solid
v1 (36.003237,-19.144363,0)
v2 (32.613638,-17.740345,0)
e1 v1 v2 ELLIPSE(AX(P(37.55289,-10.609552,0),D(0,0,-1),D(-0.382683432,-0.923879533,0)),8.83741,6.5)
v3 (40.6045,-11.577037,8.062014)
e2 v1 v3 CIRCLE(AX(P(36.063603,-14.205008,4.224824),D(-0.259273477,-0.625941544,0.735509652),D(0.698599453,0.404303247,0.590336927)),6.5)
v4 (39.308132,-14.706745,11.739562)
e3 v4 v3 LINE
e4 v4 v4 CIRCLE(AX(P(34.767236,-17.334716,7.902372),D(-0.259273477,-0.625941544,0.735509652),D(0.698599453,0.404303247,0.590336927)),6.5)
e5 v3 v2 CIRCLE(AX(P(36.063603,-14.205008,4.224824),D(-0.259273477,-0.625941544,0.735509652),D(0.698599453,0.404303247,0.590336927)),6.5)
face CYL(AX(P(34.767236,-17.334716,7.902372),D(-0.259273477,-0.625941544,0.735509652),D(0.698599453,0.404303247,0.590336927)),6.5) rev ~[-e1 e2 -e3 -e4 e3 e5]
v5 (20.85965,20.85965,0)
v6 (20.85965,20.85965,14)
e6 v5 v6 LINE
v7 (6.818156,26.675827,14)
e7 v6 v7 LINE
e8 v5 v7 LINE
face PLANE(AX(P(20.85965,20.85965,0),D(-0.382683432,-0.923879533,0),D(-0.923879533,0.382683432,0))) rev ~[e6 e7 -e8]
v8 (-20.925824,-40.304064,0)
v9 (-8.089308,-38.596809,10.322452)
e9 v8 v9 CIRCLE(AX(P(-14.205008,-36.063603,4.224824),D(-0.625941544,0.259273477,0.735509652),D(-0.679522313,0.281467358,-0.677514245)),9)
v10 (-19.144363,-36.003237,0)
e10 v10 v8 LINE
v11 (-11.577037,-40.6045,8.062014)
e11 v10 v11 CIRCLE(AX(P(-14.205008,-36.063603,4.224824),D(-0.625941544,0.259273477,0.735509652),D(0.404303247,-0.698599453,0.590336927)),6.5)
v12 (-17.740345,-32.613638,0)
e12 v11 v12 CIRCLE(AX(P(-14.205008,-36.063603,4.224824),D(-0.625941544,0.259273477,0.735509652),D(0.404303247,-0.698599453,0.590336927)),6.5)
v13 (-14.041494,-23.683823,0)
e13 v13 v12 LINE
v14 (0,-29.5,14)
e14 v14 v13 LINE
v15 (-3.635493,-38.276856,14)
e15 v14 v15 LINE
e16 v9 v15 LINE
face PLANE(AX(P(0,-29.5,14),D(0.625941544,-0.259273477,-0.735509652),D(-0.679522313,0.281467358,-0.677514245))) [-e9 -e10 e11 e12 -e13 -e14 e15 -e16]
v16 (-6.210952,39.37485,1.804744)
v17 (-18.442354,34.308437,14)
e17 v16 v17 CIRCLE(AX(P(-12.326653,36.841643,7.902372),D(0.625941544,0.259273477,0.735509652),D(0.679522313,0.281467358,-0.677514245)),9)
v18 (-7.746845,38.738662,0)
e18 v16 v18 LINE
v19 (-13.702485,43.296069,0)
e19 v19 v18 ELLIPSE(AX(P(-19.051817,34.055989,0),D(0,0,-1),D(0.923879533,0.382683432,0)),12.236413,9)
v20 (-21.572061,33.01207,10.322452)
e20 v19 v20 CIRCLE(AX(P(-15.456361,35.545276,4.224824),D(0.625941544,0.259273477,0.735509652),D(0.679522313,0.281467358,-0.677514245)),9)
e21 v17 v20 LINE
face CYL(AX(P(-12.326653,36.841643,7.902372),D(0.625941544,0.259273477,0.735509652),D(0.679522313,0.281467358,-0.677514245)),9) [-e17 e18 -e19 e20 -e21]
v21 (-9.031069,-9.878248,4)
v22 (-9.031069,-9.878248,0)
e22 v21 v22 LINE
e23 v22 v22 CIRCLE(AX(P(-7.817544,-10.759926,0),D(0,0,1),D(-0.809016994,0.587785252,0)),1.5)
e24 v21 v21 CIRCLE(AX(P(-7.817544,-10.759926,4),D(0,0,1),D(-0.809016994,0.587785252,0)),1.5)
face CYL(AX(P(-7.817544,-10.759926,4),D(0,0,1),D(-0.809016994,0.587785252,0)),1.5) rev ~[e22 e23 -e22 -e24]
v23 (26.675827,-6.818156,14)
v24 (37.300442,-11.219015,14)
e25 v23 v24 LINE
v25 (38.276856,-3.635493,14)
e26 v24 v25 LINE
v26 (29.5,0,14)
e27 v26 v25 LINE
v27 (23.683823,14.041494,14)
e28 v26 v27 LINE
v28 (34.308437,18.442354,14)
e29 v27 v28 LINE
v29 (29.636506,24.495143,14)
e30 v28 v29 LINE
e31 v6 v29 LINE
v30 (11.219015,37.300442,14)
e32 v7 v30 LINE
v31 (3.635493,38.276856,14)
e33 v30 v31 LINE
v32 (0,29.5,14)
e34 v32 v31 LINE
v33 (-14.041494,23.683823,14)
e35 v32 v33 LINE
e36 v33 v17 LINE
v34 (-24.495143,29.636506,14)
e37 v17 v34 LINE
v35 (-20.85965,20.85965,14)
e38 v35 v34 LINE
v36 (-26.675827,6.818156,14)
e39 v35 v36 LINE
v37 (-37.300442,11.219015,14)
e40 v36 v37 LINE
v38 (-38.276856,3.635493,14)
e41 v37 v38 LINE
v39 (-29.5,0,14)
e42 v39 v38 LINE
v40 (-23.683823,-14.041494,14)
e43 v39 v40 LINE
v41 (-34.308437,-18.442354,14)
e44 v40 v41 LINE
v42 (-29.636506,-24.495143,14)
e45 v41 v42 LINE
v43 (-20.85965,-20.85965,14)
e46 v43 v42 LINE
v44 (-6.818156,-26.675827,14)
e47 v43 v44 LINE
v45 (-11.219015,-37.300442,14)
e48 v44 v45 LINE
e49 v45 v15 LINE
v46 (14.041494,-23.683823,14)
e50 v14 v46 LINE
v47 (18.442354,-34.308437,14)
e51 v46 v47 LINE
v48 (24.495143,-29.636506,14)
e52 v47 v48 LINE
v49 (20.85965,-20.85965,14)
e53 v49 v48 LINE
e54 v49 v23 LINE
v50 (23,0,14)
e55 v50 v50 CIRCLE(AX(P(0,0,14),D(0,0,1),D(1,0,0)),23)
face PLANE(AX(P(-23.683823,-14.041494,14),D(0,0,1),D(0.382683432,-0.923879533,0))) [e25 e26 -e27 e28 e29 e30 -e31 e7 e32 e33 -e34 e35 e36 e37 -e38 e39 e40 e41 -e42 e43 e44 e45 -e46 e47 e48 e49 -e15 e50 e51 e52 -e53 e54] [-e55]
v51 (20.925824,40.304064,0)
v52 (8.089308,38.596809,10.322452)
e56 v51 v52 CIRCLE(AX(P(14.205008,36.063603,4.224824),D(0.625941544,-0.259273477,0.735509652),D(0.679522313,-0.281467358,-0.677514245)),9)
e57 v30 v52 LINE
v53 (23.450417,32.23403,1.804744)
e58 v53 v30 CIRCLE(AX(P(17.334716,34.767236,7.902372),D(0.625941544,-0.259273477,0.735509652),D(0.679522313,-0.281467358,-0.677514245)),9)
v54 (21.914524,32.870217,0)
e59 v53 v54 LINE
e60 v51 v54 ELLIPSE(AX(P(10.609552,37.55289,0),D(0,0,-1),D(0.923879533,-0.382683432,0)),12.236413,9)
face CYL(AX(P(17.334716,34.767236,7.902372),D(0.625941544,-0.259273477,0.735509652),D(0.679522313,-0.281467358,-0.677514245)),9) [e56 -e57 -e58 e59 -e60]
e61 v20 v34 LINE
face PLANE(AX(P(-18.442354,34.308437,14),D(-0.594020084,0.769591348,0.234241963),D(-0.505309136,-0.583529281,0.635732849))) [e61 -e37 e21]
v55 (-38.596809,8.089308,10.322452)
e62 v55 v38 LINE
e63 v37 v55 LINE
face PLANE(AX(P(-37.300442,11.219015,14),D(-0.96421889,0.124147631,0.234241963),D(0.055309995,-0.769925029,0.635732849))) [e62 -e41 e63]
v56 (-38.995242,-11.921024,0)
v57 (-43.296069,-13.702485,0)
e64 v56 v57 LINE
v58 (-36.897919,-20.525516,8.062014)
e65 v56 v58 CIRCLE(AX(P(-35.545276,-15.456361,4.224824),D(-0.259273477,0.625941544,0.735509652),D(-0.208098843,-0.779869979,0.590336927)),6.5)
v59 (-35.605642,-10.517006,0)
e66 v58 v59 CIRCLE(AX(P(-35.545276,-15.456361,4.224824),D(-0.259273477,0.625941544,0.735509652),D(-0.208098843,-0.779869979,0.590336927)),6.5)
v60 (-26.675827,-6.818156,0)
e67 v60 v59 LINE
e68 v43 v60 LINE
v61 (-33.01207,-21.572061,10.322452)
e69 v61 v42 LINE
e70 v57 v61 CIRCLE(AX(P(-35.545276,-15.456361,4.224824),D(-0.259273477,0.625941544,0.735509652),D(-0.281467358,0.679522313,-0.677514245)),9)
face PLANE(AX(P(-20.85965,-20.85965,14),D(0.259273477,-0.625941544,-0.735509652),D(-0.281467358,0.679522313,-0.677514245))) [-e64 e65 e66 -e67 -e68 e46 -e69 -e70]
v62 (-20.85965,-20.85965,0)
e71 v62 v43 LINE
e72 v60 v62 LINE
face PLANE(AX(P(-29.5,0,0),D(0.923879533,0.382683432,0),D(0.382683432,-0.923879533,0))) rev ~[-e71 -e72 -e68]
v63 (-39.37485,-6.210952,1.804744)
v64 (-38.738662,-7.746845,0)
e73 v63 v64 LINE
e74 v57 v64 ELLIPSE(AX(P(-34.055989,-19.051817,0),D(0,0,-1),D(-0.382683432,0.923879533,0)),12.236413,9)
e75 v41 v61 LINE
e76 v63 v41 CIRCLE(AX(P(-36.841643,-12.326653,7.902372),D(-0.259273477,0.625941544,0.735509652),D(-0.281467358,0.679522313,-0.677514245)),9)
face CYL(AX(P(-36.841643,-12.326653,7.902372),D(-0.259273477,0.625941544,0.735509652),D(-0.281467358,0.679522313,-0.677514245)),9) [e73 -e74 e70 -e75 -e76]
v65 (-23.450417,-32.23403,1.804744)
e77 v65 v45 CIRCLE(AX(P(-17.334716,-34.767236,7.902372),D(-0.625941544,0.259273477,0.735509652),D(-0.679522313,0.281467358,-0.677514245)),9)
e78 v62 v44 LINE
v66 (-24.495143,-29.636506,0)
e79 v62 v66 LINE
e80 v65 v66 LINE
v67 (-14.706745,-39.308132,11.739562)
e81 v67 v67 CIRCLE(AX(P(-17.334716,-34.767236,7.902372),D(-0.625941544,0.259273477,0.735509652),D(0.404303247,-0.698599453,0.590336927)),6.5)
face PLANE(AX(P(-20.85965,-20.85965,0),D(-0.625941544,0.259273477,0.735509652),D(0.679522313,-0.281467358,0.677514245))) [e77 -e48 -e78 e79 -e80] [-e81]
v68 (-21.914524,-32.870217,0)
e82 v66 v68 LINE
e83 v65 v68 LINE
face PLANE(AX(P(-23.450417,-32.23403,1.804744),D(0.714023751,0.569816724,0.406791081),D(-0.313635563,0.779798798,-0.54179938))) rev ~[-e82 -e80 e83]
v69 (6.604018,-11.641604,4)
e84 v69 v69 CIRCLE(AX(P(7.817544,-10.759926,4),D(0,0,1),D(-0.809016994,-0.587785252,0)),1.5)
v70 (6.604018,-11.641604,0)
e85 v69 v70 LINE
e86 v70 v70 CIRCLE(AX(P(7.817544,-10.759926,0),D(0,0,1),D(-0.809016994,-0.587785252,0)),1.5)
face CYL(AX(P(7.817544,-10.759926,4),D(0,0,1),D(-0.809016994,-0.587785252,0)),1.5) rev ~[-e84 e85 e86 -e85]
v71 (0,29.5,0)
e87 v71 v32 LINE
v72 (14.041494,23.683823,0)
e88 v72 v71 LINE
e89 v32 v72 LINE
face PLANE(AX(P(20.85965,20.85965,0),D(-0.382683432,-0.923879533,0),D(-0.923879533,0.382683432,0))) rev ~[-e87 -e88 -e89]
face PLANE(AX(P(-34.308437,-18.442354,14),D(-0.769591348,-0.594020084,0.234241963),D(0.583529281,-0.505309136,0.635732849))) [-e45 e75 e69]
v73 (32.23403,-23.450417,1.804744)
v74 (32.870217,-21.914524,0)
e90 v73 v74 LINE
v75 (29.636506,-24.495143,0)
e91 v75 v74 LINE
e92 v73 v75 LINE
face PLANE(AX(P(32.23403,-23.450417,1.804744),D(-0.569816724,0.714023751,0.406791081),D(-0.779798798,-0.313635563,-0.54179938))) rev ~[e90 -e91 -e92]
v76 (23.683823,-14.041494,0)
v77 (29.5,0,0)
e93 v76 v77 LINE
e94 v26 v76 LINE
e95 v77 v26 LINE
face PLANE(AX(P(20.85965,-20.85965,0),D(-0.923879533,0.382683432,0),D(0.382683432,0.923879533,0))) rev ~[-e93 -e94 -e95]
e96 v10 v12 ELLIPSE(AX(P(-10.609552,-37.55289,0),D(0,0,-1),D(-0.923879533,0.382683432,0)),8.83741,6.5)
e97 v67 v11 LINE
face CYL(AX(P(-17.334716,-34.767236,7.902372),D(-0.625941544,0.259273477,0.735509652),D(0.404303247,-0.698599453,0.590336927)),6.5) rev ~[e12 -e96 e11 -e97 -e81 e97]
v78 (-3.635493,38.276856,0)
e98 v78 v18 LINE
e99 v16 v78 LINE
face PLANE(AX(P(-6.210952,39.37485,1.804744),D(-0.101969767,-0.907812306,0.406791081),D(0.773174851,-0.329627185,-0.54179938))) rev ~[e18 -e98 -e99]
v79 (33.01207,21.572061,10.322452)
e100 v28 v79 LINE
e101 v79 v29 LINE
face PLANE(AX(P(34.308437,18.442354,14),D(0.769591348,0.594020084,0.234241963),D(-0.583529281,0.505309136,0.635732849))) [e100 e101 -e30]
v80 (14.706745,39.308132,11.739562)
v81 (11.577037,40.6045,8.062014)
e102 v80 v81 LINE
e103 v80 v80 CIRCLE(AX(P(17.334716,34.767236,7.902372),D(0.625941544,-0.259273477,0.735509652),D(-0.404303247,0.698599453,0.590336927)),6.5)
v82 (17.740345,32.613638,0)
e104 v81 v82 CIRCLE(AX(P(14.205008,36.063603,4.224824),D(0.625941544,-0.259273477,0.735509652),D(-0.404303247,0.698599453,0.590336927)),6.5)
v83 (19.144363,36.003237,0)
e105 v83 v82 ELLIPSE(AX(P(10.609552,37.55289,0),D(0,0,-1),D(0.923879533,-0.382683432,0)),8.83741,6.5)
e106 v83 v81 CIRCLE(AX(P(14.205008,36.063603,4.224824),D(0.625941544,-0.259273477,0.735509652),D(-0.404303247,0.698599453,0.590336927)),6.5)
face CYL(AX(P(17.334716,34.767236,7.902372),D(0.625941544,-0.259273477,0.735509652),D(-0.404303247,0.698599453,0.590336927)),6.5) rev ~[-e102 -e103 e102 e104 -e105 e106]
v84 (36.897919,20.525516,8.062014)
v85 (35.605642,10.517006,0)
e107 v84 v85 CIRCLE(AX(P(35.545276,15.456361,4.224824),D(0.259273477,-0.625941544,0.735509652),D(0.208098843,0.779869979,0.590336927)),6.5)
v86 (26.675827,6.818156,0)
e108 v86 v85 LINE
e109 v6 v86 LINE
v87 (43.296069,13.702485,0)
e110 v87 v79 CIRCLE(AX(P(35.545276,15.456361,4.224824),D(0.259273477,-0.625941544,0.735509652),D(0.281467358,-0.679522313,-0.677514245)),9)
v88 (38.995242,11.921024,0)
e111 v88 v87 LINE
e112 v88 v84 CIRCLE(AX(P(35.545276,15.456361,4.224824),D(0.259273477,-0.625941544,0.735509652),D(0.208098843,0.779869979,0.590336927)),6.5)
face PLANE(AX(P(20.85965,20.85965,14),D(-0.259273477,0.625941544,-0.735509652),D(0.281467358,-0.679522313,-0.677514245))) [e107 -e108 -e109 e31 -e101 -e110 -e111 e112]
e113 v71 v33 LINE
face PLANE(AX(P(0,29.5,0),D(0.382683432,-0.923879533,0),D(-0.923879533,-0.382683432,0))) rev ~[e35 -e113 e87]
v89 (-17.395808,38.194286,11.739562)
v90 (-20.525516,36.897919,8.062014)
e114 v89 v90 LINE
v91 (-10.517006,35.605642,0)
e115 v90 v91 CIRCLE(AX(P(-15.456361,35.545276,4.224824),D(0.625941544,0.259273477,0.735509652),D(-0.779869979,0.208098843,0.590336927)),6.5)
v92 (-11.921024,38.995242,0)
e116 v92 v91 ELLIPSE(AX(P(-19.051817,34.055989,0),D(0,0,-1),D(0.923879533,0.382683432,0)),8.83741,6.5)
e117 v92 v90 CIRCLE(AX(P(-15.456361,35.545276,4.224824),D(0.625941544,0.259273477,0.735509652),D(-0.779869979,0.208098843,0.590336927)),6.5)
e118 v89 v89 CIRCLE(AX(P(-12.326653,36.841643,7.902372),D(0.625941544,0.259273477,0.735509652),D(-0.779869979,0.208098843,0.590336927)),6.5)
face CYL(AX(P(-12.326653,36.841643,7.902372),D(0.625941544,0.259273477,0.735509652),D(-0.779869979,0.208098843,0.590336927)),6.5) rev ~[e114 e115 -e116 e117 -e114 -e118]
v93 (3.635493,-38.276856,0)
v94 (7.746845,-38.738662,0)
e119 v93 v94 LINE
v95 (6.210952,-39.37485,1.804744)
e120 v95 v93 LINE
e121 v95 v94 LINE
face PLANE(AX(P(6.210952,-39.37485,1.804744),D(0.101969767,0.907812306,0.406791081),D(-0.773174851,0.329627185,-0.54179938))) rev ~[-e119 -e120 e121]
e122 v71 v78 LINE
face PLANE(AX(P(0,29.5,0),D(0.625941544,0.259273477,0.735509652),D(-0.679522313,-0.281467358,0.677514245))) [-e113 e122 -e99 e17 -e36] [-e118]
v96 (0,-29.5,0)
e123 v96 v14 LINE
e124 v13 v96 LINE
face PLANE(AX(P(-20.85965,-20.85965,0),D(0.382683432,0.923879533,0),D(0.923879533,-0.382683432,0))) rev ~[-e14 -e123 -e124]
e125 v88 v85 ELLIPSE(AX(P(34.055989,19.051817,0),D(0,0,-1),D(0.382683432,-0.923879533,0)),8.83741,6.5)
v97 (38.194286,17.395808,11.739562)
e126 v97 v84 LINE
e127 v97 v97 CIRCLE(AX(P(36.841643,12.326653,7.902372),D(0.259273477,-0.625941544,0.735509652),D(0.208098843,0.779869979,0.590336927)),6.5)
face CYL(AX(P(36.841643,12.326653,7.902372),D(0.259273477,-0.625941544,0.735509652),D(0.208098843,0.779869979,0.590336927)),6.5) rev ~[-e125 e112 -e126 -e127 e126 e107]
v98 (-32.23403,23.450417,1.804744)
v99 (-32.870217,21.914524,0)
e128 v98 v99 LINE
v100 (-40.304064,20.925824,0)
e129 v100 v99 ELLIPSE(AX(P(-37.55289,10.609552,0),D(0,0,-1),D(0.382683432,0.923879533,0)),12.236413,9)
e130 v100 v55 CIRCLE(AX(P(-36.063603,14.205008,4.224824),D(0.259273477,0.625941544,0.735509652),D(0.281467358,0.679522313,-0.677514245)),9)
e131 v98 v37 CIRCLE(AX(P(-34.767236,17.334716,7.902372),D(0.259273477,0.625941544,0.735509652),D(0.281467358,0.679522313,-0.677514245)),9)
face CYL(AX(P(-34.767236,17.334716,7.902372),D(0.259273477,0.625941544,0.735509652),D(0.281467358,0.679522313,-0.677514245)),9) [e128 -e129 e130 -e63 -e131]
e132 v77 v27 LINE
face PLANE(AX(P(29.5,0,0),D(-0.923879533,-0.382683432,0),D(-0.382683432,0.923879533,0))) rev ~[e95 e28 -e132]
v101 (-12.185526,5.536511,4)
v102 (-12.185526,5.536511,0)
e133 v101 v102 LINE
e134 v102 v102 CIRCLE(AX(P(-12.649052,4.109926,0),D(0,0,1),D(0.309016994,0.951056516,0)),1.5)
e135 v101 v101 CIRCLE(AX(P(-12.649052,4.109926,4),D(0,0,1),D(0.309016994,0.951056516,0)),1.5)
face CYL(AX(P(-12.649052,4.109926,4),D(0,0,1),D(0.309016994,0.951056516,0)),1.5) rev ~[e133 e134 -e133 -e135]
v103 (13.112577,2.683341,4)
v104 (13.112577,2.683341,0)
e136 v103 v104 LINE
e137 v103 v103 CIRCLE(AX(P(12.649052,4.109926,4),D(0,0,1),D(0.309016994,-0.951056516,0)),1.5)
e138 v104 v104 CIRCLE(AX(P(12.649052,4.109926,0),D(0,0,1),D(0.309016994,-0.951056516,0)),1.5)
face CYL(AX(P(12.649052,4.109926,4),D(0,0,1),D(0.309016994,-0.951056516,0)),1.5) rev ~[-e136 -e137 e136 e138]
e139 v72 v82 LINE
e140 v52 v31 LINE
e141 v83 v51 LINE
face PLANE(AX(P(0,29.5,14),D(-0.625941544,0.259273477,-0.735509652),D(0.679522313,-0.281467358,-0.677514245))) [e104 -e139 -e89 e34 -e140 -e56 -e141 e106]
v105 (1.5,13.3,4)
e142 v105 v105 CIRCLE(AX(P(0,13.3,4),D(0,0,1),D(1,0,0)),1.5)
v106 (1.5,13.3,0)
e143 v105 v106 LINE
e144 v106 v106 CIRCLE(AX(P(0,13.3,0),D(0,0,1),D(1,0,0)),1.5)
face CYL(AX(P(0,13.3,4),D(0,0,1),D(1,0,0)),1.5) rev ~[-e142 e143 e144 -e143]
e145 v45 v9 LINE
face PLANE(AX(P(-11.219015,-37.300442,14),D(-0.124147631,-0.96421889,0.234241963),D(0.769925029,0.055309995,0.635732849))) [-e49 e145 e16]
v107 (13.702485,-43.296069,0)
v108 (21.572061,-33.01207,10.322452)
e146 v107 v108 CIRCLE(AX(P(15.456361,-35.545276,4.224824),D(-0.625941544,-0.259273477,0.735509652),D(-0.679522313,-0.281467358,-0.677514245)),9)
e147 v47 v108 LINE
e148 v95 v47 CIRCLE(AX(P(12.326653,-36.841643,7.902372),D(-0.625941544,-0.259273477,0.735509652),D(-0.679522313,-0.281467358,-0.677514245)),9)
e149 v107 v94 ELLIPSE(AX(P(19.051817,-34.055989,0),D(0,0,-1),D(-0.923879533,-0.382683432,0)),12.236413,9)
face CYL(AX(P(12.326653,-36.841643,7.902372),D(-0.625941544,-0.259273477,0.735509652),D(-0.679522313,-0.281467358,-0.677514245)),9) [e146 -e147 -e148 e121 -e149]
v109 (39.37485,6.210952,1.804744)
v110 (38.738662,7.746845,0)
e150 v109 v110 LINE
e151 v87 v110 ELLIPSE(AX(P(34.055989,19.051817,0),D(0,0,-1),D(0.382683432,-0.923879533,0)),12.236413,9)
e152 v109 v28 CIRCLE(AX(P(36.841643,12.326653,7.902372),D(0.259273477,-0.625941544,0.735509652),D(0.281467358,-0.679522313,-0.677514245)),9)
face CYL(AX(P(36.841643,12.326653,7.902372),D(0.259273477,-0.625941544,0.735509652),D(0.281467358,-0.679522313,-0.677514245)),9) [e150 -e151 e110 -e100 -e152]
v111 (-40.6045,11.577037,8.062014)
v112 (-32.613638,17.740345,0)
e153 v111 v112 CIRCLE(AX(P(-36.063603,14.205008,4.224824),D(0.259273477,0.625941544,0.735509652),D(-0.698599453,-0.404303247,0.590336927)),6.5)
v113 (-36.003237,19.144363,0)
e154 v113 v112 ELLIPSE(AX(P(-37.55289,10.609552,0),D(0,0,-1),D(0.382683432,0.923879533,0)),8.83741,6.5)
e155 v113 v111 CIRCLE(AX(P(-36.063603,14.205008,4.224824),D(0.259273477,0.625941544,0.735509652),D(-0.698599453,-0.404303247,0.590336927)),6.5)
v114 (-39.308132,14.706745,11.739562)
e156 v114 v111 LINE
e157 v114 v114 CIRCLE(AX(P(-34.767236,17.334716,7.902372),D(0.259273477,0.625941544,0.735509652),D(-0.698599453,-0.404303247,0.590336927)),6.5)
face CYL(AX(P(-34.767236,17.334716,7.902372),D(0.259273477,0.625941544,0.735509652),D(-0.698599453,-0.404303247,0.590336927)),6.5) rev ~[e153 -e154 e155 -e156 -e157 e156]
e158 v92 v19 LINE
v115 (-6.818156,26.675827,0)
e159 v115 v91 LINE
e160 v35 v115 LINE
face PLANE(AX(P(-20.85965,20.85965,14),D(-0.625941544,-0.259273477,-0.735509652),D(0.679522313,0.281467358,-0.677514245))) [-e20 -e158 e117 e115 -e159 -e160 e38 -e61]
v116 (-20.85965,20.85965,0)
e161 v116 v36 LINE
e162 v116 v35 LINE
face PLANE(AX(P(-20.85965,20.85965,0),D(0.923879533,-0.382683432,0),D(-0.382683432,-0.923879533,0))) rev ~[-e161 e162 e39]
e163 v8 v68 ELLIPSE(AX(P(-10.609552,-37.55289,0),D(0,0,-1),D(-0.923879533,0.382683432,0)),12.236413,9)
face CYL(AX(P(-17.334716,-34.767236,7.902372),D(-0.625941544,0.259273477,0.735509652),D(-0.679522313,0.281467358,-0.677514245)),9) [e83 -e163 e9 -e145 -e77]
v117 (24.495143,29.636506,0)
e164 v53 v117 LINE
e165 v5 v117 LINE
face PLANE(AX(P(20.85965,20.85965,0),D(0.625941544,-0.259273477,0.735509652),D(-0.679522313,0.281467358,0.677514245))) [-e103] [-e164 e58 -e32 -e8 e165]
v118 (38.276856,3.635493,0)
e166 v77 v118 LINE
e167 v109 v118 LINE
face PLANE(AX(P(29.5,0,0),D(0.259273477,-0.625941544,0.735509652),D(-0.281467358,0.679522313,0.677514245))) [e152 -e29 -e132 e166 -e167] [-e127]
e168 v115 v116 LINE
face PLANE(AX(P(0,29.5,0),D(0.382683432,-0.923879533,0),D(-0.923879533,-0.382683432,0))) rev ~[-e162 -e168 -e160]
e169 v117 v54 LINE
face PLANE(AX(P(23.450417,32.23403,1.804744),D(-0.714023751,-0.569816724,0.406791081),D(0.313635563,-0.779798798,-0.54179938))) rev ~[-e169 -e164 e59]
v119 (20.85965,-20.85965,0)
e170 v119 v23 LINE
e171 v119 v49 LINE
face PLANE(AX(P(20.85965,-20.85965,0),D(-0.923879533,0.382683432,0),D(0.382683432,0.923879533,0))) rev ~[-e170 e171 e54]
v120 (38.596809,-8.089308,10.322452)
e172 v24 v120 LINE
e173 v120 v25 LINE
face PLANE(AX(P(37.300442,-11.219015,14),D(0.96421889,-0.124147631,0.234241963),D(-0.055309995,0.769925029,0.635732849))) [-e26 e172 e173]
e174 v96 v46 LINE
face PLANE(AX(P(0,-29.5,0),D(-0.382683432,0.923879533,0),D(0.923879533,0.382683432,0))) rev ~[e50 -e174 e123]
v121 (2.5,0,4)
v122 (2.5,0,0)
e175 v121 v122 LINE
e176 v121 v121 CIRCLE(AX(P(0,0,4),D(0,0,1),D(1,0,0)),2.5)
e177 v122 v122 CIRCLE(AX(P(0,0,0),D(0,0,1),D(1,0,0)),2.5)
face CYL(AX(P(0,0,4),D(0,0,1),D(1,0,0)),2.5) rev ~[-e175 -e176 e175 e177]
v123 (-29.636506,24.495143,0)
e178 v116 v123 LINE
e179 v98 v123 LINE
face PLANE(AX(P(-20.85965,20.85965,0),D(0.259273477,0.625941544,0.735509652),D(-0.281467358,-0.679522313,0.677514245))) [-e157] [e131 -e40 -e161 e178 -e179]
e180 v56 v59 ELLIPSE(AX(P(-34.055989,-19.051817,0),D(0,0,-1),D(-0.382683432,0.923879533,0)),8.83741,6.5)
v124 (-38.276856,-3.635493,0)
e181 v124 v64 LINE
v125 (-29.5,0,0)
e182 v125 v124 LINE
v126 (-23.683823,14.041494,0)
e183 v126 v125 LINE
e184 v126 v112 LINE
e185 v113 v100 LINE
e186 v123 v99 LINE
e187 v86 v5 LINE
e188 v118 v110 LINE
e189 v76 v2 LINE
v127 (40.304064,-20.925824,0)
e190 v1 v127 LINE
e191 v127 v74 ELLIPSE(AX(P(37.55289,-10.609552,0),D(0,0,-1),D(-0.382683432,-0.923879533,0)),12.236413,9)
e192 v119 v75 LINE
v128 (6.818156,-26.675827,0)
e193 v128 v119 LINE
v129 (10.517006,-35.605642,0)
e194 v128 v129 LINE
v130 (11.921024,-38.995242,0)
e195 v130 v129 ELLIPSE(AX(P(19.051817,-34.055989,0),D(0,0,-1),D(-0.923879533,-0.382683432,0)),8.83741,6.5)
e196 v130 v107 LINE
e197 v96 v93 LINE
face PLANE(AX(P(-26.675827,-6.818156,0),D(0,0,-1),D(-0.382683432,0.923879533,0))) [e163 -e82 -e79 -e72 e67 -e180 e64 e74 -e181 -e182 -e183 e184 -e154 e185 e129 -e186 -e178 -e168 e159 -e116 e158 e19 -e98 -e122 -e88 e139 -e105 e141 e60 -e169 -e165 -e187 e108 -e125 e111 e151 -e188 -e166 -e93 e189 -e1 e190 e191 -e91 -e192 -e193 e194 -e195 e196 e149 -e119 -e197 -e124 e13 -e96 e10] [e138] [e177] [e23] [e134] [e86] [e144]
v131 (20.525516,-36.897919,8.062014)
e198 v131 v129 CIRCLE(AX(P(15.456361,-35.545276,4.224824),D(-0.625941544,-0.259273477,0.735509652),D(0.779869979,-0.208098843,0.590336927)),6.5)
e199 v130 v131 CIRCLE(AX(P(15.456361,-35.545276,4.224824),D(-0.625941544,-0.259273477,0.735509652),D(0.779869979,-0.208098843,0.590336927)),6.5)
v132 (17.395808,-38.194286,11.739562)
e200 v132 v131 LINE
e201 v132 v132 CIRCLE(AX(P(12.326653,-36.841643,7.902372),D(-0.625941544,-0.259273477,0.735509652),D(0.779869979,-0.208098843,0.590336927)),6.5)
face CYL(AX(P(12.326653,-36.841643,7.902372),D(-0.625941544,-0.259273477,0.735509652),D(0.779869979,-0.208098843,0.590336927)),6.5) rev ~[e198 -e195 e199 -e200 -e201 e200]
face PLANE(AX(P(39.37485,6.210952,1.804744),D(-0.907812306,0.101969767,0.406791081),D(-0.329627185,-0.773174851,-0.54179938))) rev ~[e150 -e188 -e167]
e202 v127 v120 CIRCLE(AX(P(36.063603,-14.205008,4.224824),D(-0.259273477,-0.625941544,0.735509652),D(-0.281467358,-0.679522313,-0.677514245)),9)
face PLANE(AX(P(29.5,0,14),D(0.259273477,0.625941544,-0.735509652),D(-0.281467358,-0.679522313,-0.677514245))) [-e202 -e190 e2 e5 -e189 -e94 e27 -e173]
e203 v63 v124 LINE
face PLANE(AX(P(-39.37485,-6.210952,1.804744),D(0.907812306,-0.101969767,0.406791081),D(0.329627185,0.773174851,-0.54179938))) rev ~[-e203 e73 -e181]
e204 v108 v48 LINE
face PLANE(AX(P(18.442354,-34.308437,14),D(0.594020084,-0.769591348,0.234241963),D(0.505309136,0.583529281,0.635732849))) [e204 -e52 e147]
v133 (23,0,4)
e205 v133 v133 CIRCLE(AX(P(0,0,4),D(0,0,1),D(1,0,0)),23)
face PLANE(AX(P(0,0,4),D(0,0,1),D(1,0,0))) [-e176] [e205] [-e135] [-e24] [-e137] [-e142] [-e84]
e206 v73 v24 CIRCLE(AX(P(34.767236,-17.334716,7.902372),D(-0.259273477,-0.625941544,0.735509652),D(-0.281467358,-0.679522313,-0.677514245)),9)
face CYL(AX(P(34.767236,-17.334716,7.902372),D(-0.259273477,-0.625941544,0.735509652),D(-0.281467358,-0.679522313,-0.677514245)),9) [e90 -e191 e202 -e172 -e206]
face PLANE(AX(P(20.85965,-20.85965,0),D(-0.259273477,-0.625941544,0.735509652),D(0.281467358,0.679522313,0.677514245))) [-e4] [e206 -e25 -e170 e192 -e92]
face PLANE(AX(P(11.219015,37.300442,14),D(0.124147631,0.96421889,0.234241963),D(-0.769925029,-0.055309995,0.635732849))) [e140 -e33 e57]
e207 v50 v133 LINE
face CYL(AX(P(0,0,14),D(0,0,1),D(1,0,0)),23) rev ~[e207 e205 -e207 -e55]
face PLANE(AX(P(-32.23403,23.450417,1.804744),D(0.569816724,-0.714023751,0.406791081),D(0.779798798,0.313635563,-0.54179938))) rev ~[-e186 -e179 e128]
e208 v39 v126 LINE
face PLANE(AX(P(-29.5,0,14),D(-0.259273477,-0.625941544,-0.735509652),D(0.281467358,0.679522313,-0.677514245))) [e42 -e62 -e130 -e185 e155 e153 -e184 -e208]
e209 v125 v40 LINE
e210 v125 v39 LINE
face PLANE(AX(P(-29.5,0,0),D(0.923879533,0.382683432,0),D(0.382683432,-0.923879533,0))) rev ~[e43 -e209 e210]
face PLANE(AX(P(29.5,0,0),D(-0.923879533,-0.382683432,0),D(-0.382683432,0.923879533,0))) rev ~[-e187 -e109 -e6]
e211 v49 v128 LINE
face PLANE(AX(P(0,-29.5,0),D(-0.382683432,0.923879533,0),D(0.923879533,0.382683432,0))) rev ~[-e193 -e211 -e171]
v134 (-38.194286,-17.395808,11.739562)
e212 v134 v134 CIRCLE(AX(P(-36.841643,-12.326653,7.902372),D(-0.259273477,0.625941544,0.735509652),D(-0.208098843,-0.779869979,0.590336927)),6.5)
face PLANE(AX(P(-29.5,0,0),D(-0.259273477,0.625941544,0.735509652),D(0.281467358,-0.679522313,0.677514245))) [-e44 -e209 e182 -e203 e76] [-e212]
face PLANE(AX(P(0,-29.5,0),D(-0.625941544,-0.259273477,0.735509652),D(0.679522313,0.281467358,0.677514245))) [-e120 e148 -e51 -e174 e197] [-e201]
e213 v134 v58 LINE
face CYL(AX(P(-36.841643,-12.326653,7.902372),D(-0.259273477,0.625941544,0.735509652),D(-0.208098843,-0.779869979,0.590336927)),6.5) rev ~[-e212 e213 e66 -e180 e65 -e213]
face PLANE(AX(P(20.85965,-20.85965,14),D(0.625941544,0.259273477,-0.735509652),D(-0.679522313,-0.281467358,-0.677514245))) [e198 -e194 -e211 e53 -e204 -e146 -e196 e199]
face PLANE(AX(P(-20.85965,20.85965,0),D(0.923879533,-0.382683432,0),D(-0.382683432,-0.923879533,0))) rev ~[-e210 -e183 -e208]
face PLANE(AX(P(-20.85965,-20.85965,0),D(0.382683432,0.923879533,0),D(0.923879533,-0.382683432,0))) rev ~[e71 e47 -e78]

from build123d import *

# Parameters (mm, degrees)
PAD_DEPTH             = 14
SKETCH001_R           = 23
POCKET_DEPTH          = 10
SKETCH002_R           = 2.5
SKETCH002_R_2         = 1.5
POCKET001_DEPTH       = 173.2109287867
POLARPATTERN_COUNT    = 5
PAD001_DEPTH          = 21
POLARPATTERN001_COUNT = 8
SKETCH004_R           = 6.5
POCKET002_DEPTH       = 5
POLARPATTERN002_COUNT = 8


with BuildPart() as part:
    # Sketch → Pad (new body)
    with BuildSketch(Plane.XY):
        Polygon((29.5, 0), (20.859650045, 20.859650045), (0, 29.5), (-20.859650045, 20.859650045), (-29.5, 0), (-20.859650045, -20.859650045), (0, -29.5), (20.859650045, -20.859650045), align=None)
    extrude(amount=PAD_DEPTH)

    # Sketch001 (on Face10 of Pad) → Pocket (cut)
    with BuildSketch(Plane.XY.offset(14)):
        Circle(SKETCH001_R)
    extrude(amount=-POCKET_DEPTH, mode=Mode.SUBTRACT)

    # Sketch002 (on Face12 of Pocket) → Pocket001 (cut, through all)
    with BuildSketch(Plane.XY.offset(4)):
        Circle(SKETCH002_R)
        with Locations((0, 13.3)):
            Circle(SKETCH002_R_2)
    pocket001 = extrude(amount=-POCKET001_DEPTH, mode=Mode.SUBTRACT)

    # PolarPattern: Pocket001 ×5 about axis
    polarpattern_axis = Axis((0, 0, 4), (0, 0, 1))
    for i in range(1, POLARPATTERN_COUNT):
        add(pocket001.rotate(polarpattern_axis, i * 360 / POLARPATTERN_COUNT), mode=Mode.SUBTRACT)

    # Sketch003 (on Face8 of PolarPattern) → Pad001 (join)
    with BuildSketch(Plane(origin=(-10.4298250225, -25.1798250225, 0), x_dir=(0.9238795325, -0.3826834324, 0), z_dir=(-0.3826834324, -0.9238795325, 0))):
        Polygon((-11.2891612548, 0), (3.9092426218, 14), (11.2891612548, 14), (-3.9092426218, 0), align=None)
    pad001 = extrude(amount=PAD001_DEPTH)

    # PolarPattern001: Pad001 ×8 about axis
    polarpattern001_axis = Axis((0, 0, 0), (0, 0, 1))
    for i in range(1, POLARPATTERN001_COUNT):
        add(pad001.rotate(polarpattern001_axis, i * 360 / POLARPATTERN001_COUNT))

    # Sketch004 (on Face33 of PolarPattern001) → Pocket002 (cut)
    with BuildSketch(Plane(origin=(-4.7875561885, -1.9830707039, 5.6255952654), x_dir=(0.7798699787, -0.208098843, 0.5903369274), z_dir=(-0.6259415438, -0.2592734767, 0.7355096519))):
        with Locations((21.9449518208, -32.1188270446)):
            Circle(SKETCH004_R)
        with BuildLine():
            Line((14.1030025385, -36.5351412832), (10.8005808993, -36.0996031065))
            Line((10.8005808993, -36.0996031065), (16.4436490931, -46.1198716338))
            Line((16.4436490931, -46.1198716338), (39.1781340839, -33.3165970703))
            Line((33.5350658901, -23.296328543), (39.1781340839, -33.3165970703))
            Line((29.786901103, -27.7025128059), (33.5350658901, -23.296328543))
            ThreePointArc((14.1030025385, -36.5351412832), (26.3612660594, -39.9607763268), (29.786901103, -27.7025128059))
        make_face()
    pocket002 = extrude(amount=-POCKET002_DEPTH, mode=Mode.SUBTRACT)

    # PolarPattern002: Pocket002 ×8 about axis
    polarpattern002_axis = Axis((0, 0, 0), (0, 0, 1))
    for i in range(1, POLARPATTERN002_COUNT):
        add(pocket002.rotate(polarpattern002_axis, i * 360 / POLARPATTERN002_COUNT), mode=Mode.SUBTRACT)


solid = part.part
